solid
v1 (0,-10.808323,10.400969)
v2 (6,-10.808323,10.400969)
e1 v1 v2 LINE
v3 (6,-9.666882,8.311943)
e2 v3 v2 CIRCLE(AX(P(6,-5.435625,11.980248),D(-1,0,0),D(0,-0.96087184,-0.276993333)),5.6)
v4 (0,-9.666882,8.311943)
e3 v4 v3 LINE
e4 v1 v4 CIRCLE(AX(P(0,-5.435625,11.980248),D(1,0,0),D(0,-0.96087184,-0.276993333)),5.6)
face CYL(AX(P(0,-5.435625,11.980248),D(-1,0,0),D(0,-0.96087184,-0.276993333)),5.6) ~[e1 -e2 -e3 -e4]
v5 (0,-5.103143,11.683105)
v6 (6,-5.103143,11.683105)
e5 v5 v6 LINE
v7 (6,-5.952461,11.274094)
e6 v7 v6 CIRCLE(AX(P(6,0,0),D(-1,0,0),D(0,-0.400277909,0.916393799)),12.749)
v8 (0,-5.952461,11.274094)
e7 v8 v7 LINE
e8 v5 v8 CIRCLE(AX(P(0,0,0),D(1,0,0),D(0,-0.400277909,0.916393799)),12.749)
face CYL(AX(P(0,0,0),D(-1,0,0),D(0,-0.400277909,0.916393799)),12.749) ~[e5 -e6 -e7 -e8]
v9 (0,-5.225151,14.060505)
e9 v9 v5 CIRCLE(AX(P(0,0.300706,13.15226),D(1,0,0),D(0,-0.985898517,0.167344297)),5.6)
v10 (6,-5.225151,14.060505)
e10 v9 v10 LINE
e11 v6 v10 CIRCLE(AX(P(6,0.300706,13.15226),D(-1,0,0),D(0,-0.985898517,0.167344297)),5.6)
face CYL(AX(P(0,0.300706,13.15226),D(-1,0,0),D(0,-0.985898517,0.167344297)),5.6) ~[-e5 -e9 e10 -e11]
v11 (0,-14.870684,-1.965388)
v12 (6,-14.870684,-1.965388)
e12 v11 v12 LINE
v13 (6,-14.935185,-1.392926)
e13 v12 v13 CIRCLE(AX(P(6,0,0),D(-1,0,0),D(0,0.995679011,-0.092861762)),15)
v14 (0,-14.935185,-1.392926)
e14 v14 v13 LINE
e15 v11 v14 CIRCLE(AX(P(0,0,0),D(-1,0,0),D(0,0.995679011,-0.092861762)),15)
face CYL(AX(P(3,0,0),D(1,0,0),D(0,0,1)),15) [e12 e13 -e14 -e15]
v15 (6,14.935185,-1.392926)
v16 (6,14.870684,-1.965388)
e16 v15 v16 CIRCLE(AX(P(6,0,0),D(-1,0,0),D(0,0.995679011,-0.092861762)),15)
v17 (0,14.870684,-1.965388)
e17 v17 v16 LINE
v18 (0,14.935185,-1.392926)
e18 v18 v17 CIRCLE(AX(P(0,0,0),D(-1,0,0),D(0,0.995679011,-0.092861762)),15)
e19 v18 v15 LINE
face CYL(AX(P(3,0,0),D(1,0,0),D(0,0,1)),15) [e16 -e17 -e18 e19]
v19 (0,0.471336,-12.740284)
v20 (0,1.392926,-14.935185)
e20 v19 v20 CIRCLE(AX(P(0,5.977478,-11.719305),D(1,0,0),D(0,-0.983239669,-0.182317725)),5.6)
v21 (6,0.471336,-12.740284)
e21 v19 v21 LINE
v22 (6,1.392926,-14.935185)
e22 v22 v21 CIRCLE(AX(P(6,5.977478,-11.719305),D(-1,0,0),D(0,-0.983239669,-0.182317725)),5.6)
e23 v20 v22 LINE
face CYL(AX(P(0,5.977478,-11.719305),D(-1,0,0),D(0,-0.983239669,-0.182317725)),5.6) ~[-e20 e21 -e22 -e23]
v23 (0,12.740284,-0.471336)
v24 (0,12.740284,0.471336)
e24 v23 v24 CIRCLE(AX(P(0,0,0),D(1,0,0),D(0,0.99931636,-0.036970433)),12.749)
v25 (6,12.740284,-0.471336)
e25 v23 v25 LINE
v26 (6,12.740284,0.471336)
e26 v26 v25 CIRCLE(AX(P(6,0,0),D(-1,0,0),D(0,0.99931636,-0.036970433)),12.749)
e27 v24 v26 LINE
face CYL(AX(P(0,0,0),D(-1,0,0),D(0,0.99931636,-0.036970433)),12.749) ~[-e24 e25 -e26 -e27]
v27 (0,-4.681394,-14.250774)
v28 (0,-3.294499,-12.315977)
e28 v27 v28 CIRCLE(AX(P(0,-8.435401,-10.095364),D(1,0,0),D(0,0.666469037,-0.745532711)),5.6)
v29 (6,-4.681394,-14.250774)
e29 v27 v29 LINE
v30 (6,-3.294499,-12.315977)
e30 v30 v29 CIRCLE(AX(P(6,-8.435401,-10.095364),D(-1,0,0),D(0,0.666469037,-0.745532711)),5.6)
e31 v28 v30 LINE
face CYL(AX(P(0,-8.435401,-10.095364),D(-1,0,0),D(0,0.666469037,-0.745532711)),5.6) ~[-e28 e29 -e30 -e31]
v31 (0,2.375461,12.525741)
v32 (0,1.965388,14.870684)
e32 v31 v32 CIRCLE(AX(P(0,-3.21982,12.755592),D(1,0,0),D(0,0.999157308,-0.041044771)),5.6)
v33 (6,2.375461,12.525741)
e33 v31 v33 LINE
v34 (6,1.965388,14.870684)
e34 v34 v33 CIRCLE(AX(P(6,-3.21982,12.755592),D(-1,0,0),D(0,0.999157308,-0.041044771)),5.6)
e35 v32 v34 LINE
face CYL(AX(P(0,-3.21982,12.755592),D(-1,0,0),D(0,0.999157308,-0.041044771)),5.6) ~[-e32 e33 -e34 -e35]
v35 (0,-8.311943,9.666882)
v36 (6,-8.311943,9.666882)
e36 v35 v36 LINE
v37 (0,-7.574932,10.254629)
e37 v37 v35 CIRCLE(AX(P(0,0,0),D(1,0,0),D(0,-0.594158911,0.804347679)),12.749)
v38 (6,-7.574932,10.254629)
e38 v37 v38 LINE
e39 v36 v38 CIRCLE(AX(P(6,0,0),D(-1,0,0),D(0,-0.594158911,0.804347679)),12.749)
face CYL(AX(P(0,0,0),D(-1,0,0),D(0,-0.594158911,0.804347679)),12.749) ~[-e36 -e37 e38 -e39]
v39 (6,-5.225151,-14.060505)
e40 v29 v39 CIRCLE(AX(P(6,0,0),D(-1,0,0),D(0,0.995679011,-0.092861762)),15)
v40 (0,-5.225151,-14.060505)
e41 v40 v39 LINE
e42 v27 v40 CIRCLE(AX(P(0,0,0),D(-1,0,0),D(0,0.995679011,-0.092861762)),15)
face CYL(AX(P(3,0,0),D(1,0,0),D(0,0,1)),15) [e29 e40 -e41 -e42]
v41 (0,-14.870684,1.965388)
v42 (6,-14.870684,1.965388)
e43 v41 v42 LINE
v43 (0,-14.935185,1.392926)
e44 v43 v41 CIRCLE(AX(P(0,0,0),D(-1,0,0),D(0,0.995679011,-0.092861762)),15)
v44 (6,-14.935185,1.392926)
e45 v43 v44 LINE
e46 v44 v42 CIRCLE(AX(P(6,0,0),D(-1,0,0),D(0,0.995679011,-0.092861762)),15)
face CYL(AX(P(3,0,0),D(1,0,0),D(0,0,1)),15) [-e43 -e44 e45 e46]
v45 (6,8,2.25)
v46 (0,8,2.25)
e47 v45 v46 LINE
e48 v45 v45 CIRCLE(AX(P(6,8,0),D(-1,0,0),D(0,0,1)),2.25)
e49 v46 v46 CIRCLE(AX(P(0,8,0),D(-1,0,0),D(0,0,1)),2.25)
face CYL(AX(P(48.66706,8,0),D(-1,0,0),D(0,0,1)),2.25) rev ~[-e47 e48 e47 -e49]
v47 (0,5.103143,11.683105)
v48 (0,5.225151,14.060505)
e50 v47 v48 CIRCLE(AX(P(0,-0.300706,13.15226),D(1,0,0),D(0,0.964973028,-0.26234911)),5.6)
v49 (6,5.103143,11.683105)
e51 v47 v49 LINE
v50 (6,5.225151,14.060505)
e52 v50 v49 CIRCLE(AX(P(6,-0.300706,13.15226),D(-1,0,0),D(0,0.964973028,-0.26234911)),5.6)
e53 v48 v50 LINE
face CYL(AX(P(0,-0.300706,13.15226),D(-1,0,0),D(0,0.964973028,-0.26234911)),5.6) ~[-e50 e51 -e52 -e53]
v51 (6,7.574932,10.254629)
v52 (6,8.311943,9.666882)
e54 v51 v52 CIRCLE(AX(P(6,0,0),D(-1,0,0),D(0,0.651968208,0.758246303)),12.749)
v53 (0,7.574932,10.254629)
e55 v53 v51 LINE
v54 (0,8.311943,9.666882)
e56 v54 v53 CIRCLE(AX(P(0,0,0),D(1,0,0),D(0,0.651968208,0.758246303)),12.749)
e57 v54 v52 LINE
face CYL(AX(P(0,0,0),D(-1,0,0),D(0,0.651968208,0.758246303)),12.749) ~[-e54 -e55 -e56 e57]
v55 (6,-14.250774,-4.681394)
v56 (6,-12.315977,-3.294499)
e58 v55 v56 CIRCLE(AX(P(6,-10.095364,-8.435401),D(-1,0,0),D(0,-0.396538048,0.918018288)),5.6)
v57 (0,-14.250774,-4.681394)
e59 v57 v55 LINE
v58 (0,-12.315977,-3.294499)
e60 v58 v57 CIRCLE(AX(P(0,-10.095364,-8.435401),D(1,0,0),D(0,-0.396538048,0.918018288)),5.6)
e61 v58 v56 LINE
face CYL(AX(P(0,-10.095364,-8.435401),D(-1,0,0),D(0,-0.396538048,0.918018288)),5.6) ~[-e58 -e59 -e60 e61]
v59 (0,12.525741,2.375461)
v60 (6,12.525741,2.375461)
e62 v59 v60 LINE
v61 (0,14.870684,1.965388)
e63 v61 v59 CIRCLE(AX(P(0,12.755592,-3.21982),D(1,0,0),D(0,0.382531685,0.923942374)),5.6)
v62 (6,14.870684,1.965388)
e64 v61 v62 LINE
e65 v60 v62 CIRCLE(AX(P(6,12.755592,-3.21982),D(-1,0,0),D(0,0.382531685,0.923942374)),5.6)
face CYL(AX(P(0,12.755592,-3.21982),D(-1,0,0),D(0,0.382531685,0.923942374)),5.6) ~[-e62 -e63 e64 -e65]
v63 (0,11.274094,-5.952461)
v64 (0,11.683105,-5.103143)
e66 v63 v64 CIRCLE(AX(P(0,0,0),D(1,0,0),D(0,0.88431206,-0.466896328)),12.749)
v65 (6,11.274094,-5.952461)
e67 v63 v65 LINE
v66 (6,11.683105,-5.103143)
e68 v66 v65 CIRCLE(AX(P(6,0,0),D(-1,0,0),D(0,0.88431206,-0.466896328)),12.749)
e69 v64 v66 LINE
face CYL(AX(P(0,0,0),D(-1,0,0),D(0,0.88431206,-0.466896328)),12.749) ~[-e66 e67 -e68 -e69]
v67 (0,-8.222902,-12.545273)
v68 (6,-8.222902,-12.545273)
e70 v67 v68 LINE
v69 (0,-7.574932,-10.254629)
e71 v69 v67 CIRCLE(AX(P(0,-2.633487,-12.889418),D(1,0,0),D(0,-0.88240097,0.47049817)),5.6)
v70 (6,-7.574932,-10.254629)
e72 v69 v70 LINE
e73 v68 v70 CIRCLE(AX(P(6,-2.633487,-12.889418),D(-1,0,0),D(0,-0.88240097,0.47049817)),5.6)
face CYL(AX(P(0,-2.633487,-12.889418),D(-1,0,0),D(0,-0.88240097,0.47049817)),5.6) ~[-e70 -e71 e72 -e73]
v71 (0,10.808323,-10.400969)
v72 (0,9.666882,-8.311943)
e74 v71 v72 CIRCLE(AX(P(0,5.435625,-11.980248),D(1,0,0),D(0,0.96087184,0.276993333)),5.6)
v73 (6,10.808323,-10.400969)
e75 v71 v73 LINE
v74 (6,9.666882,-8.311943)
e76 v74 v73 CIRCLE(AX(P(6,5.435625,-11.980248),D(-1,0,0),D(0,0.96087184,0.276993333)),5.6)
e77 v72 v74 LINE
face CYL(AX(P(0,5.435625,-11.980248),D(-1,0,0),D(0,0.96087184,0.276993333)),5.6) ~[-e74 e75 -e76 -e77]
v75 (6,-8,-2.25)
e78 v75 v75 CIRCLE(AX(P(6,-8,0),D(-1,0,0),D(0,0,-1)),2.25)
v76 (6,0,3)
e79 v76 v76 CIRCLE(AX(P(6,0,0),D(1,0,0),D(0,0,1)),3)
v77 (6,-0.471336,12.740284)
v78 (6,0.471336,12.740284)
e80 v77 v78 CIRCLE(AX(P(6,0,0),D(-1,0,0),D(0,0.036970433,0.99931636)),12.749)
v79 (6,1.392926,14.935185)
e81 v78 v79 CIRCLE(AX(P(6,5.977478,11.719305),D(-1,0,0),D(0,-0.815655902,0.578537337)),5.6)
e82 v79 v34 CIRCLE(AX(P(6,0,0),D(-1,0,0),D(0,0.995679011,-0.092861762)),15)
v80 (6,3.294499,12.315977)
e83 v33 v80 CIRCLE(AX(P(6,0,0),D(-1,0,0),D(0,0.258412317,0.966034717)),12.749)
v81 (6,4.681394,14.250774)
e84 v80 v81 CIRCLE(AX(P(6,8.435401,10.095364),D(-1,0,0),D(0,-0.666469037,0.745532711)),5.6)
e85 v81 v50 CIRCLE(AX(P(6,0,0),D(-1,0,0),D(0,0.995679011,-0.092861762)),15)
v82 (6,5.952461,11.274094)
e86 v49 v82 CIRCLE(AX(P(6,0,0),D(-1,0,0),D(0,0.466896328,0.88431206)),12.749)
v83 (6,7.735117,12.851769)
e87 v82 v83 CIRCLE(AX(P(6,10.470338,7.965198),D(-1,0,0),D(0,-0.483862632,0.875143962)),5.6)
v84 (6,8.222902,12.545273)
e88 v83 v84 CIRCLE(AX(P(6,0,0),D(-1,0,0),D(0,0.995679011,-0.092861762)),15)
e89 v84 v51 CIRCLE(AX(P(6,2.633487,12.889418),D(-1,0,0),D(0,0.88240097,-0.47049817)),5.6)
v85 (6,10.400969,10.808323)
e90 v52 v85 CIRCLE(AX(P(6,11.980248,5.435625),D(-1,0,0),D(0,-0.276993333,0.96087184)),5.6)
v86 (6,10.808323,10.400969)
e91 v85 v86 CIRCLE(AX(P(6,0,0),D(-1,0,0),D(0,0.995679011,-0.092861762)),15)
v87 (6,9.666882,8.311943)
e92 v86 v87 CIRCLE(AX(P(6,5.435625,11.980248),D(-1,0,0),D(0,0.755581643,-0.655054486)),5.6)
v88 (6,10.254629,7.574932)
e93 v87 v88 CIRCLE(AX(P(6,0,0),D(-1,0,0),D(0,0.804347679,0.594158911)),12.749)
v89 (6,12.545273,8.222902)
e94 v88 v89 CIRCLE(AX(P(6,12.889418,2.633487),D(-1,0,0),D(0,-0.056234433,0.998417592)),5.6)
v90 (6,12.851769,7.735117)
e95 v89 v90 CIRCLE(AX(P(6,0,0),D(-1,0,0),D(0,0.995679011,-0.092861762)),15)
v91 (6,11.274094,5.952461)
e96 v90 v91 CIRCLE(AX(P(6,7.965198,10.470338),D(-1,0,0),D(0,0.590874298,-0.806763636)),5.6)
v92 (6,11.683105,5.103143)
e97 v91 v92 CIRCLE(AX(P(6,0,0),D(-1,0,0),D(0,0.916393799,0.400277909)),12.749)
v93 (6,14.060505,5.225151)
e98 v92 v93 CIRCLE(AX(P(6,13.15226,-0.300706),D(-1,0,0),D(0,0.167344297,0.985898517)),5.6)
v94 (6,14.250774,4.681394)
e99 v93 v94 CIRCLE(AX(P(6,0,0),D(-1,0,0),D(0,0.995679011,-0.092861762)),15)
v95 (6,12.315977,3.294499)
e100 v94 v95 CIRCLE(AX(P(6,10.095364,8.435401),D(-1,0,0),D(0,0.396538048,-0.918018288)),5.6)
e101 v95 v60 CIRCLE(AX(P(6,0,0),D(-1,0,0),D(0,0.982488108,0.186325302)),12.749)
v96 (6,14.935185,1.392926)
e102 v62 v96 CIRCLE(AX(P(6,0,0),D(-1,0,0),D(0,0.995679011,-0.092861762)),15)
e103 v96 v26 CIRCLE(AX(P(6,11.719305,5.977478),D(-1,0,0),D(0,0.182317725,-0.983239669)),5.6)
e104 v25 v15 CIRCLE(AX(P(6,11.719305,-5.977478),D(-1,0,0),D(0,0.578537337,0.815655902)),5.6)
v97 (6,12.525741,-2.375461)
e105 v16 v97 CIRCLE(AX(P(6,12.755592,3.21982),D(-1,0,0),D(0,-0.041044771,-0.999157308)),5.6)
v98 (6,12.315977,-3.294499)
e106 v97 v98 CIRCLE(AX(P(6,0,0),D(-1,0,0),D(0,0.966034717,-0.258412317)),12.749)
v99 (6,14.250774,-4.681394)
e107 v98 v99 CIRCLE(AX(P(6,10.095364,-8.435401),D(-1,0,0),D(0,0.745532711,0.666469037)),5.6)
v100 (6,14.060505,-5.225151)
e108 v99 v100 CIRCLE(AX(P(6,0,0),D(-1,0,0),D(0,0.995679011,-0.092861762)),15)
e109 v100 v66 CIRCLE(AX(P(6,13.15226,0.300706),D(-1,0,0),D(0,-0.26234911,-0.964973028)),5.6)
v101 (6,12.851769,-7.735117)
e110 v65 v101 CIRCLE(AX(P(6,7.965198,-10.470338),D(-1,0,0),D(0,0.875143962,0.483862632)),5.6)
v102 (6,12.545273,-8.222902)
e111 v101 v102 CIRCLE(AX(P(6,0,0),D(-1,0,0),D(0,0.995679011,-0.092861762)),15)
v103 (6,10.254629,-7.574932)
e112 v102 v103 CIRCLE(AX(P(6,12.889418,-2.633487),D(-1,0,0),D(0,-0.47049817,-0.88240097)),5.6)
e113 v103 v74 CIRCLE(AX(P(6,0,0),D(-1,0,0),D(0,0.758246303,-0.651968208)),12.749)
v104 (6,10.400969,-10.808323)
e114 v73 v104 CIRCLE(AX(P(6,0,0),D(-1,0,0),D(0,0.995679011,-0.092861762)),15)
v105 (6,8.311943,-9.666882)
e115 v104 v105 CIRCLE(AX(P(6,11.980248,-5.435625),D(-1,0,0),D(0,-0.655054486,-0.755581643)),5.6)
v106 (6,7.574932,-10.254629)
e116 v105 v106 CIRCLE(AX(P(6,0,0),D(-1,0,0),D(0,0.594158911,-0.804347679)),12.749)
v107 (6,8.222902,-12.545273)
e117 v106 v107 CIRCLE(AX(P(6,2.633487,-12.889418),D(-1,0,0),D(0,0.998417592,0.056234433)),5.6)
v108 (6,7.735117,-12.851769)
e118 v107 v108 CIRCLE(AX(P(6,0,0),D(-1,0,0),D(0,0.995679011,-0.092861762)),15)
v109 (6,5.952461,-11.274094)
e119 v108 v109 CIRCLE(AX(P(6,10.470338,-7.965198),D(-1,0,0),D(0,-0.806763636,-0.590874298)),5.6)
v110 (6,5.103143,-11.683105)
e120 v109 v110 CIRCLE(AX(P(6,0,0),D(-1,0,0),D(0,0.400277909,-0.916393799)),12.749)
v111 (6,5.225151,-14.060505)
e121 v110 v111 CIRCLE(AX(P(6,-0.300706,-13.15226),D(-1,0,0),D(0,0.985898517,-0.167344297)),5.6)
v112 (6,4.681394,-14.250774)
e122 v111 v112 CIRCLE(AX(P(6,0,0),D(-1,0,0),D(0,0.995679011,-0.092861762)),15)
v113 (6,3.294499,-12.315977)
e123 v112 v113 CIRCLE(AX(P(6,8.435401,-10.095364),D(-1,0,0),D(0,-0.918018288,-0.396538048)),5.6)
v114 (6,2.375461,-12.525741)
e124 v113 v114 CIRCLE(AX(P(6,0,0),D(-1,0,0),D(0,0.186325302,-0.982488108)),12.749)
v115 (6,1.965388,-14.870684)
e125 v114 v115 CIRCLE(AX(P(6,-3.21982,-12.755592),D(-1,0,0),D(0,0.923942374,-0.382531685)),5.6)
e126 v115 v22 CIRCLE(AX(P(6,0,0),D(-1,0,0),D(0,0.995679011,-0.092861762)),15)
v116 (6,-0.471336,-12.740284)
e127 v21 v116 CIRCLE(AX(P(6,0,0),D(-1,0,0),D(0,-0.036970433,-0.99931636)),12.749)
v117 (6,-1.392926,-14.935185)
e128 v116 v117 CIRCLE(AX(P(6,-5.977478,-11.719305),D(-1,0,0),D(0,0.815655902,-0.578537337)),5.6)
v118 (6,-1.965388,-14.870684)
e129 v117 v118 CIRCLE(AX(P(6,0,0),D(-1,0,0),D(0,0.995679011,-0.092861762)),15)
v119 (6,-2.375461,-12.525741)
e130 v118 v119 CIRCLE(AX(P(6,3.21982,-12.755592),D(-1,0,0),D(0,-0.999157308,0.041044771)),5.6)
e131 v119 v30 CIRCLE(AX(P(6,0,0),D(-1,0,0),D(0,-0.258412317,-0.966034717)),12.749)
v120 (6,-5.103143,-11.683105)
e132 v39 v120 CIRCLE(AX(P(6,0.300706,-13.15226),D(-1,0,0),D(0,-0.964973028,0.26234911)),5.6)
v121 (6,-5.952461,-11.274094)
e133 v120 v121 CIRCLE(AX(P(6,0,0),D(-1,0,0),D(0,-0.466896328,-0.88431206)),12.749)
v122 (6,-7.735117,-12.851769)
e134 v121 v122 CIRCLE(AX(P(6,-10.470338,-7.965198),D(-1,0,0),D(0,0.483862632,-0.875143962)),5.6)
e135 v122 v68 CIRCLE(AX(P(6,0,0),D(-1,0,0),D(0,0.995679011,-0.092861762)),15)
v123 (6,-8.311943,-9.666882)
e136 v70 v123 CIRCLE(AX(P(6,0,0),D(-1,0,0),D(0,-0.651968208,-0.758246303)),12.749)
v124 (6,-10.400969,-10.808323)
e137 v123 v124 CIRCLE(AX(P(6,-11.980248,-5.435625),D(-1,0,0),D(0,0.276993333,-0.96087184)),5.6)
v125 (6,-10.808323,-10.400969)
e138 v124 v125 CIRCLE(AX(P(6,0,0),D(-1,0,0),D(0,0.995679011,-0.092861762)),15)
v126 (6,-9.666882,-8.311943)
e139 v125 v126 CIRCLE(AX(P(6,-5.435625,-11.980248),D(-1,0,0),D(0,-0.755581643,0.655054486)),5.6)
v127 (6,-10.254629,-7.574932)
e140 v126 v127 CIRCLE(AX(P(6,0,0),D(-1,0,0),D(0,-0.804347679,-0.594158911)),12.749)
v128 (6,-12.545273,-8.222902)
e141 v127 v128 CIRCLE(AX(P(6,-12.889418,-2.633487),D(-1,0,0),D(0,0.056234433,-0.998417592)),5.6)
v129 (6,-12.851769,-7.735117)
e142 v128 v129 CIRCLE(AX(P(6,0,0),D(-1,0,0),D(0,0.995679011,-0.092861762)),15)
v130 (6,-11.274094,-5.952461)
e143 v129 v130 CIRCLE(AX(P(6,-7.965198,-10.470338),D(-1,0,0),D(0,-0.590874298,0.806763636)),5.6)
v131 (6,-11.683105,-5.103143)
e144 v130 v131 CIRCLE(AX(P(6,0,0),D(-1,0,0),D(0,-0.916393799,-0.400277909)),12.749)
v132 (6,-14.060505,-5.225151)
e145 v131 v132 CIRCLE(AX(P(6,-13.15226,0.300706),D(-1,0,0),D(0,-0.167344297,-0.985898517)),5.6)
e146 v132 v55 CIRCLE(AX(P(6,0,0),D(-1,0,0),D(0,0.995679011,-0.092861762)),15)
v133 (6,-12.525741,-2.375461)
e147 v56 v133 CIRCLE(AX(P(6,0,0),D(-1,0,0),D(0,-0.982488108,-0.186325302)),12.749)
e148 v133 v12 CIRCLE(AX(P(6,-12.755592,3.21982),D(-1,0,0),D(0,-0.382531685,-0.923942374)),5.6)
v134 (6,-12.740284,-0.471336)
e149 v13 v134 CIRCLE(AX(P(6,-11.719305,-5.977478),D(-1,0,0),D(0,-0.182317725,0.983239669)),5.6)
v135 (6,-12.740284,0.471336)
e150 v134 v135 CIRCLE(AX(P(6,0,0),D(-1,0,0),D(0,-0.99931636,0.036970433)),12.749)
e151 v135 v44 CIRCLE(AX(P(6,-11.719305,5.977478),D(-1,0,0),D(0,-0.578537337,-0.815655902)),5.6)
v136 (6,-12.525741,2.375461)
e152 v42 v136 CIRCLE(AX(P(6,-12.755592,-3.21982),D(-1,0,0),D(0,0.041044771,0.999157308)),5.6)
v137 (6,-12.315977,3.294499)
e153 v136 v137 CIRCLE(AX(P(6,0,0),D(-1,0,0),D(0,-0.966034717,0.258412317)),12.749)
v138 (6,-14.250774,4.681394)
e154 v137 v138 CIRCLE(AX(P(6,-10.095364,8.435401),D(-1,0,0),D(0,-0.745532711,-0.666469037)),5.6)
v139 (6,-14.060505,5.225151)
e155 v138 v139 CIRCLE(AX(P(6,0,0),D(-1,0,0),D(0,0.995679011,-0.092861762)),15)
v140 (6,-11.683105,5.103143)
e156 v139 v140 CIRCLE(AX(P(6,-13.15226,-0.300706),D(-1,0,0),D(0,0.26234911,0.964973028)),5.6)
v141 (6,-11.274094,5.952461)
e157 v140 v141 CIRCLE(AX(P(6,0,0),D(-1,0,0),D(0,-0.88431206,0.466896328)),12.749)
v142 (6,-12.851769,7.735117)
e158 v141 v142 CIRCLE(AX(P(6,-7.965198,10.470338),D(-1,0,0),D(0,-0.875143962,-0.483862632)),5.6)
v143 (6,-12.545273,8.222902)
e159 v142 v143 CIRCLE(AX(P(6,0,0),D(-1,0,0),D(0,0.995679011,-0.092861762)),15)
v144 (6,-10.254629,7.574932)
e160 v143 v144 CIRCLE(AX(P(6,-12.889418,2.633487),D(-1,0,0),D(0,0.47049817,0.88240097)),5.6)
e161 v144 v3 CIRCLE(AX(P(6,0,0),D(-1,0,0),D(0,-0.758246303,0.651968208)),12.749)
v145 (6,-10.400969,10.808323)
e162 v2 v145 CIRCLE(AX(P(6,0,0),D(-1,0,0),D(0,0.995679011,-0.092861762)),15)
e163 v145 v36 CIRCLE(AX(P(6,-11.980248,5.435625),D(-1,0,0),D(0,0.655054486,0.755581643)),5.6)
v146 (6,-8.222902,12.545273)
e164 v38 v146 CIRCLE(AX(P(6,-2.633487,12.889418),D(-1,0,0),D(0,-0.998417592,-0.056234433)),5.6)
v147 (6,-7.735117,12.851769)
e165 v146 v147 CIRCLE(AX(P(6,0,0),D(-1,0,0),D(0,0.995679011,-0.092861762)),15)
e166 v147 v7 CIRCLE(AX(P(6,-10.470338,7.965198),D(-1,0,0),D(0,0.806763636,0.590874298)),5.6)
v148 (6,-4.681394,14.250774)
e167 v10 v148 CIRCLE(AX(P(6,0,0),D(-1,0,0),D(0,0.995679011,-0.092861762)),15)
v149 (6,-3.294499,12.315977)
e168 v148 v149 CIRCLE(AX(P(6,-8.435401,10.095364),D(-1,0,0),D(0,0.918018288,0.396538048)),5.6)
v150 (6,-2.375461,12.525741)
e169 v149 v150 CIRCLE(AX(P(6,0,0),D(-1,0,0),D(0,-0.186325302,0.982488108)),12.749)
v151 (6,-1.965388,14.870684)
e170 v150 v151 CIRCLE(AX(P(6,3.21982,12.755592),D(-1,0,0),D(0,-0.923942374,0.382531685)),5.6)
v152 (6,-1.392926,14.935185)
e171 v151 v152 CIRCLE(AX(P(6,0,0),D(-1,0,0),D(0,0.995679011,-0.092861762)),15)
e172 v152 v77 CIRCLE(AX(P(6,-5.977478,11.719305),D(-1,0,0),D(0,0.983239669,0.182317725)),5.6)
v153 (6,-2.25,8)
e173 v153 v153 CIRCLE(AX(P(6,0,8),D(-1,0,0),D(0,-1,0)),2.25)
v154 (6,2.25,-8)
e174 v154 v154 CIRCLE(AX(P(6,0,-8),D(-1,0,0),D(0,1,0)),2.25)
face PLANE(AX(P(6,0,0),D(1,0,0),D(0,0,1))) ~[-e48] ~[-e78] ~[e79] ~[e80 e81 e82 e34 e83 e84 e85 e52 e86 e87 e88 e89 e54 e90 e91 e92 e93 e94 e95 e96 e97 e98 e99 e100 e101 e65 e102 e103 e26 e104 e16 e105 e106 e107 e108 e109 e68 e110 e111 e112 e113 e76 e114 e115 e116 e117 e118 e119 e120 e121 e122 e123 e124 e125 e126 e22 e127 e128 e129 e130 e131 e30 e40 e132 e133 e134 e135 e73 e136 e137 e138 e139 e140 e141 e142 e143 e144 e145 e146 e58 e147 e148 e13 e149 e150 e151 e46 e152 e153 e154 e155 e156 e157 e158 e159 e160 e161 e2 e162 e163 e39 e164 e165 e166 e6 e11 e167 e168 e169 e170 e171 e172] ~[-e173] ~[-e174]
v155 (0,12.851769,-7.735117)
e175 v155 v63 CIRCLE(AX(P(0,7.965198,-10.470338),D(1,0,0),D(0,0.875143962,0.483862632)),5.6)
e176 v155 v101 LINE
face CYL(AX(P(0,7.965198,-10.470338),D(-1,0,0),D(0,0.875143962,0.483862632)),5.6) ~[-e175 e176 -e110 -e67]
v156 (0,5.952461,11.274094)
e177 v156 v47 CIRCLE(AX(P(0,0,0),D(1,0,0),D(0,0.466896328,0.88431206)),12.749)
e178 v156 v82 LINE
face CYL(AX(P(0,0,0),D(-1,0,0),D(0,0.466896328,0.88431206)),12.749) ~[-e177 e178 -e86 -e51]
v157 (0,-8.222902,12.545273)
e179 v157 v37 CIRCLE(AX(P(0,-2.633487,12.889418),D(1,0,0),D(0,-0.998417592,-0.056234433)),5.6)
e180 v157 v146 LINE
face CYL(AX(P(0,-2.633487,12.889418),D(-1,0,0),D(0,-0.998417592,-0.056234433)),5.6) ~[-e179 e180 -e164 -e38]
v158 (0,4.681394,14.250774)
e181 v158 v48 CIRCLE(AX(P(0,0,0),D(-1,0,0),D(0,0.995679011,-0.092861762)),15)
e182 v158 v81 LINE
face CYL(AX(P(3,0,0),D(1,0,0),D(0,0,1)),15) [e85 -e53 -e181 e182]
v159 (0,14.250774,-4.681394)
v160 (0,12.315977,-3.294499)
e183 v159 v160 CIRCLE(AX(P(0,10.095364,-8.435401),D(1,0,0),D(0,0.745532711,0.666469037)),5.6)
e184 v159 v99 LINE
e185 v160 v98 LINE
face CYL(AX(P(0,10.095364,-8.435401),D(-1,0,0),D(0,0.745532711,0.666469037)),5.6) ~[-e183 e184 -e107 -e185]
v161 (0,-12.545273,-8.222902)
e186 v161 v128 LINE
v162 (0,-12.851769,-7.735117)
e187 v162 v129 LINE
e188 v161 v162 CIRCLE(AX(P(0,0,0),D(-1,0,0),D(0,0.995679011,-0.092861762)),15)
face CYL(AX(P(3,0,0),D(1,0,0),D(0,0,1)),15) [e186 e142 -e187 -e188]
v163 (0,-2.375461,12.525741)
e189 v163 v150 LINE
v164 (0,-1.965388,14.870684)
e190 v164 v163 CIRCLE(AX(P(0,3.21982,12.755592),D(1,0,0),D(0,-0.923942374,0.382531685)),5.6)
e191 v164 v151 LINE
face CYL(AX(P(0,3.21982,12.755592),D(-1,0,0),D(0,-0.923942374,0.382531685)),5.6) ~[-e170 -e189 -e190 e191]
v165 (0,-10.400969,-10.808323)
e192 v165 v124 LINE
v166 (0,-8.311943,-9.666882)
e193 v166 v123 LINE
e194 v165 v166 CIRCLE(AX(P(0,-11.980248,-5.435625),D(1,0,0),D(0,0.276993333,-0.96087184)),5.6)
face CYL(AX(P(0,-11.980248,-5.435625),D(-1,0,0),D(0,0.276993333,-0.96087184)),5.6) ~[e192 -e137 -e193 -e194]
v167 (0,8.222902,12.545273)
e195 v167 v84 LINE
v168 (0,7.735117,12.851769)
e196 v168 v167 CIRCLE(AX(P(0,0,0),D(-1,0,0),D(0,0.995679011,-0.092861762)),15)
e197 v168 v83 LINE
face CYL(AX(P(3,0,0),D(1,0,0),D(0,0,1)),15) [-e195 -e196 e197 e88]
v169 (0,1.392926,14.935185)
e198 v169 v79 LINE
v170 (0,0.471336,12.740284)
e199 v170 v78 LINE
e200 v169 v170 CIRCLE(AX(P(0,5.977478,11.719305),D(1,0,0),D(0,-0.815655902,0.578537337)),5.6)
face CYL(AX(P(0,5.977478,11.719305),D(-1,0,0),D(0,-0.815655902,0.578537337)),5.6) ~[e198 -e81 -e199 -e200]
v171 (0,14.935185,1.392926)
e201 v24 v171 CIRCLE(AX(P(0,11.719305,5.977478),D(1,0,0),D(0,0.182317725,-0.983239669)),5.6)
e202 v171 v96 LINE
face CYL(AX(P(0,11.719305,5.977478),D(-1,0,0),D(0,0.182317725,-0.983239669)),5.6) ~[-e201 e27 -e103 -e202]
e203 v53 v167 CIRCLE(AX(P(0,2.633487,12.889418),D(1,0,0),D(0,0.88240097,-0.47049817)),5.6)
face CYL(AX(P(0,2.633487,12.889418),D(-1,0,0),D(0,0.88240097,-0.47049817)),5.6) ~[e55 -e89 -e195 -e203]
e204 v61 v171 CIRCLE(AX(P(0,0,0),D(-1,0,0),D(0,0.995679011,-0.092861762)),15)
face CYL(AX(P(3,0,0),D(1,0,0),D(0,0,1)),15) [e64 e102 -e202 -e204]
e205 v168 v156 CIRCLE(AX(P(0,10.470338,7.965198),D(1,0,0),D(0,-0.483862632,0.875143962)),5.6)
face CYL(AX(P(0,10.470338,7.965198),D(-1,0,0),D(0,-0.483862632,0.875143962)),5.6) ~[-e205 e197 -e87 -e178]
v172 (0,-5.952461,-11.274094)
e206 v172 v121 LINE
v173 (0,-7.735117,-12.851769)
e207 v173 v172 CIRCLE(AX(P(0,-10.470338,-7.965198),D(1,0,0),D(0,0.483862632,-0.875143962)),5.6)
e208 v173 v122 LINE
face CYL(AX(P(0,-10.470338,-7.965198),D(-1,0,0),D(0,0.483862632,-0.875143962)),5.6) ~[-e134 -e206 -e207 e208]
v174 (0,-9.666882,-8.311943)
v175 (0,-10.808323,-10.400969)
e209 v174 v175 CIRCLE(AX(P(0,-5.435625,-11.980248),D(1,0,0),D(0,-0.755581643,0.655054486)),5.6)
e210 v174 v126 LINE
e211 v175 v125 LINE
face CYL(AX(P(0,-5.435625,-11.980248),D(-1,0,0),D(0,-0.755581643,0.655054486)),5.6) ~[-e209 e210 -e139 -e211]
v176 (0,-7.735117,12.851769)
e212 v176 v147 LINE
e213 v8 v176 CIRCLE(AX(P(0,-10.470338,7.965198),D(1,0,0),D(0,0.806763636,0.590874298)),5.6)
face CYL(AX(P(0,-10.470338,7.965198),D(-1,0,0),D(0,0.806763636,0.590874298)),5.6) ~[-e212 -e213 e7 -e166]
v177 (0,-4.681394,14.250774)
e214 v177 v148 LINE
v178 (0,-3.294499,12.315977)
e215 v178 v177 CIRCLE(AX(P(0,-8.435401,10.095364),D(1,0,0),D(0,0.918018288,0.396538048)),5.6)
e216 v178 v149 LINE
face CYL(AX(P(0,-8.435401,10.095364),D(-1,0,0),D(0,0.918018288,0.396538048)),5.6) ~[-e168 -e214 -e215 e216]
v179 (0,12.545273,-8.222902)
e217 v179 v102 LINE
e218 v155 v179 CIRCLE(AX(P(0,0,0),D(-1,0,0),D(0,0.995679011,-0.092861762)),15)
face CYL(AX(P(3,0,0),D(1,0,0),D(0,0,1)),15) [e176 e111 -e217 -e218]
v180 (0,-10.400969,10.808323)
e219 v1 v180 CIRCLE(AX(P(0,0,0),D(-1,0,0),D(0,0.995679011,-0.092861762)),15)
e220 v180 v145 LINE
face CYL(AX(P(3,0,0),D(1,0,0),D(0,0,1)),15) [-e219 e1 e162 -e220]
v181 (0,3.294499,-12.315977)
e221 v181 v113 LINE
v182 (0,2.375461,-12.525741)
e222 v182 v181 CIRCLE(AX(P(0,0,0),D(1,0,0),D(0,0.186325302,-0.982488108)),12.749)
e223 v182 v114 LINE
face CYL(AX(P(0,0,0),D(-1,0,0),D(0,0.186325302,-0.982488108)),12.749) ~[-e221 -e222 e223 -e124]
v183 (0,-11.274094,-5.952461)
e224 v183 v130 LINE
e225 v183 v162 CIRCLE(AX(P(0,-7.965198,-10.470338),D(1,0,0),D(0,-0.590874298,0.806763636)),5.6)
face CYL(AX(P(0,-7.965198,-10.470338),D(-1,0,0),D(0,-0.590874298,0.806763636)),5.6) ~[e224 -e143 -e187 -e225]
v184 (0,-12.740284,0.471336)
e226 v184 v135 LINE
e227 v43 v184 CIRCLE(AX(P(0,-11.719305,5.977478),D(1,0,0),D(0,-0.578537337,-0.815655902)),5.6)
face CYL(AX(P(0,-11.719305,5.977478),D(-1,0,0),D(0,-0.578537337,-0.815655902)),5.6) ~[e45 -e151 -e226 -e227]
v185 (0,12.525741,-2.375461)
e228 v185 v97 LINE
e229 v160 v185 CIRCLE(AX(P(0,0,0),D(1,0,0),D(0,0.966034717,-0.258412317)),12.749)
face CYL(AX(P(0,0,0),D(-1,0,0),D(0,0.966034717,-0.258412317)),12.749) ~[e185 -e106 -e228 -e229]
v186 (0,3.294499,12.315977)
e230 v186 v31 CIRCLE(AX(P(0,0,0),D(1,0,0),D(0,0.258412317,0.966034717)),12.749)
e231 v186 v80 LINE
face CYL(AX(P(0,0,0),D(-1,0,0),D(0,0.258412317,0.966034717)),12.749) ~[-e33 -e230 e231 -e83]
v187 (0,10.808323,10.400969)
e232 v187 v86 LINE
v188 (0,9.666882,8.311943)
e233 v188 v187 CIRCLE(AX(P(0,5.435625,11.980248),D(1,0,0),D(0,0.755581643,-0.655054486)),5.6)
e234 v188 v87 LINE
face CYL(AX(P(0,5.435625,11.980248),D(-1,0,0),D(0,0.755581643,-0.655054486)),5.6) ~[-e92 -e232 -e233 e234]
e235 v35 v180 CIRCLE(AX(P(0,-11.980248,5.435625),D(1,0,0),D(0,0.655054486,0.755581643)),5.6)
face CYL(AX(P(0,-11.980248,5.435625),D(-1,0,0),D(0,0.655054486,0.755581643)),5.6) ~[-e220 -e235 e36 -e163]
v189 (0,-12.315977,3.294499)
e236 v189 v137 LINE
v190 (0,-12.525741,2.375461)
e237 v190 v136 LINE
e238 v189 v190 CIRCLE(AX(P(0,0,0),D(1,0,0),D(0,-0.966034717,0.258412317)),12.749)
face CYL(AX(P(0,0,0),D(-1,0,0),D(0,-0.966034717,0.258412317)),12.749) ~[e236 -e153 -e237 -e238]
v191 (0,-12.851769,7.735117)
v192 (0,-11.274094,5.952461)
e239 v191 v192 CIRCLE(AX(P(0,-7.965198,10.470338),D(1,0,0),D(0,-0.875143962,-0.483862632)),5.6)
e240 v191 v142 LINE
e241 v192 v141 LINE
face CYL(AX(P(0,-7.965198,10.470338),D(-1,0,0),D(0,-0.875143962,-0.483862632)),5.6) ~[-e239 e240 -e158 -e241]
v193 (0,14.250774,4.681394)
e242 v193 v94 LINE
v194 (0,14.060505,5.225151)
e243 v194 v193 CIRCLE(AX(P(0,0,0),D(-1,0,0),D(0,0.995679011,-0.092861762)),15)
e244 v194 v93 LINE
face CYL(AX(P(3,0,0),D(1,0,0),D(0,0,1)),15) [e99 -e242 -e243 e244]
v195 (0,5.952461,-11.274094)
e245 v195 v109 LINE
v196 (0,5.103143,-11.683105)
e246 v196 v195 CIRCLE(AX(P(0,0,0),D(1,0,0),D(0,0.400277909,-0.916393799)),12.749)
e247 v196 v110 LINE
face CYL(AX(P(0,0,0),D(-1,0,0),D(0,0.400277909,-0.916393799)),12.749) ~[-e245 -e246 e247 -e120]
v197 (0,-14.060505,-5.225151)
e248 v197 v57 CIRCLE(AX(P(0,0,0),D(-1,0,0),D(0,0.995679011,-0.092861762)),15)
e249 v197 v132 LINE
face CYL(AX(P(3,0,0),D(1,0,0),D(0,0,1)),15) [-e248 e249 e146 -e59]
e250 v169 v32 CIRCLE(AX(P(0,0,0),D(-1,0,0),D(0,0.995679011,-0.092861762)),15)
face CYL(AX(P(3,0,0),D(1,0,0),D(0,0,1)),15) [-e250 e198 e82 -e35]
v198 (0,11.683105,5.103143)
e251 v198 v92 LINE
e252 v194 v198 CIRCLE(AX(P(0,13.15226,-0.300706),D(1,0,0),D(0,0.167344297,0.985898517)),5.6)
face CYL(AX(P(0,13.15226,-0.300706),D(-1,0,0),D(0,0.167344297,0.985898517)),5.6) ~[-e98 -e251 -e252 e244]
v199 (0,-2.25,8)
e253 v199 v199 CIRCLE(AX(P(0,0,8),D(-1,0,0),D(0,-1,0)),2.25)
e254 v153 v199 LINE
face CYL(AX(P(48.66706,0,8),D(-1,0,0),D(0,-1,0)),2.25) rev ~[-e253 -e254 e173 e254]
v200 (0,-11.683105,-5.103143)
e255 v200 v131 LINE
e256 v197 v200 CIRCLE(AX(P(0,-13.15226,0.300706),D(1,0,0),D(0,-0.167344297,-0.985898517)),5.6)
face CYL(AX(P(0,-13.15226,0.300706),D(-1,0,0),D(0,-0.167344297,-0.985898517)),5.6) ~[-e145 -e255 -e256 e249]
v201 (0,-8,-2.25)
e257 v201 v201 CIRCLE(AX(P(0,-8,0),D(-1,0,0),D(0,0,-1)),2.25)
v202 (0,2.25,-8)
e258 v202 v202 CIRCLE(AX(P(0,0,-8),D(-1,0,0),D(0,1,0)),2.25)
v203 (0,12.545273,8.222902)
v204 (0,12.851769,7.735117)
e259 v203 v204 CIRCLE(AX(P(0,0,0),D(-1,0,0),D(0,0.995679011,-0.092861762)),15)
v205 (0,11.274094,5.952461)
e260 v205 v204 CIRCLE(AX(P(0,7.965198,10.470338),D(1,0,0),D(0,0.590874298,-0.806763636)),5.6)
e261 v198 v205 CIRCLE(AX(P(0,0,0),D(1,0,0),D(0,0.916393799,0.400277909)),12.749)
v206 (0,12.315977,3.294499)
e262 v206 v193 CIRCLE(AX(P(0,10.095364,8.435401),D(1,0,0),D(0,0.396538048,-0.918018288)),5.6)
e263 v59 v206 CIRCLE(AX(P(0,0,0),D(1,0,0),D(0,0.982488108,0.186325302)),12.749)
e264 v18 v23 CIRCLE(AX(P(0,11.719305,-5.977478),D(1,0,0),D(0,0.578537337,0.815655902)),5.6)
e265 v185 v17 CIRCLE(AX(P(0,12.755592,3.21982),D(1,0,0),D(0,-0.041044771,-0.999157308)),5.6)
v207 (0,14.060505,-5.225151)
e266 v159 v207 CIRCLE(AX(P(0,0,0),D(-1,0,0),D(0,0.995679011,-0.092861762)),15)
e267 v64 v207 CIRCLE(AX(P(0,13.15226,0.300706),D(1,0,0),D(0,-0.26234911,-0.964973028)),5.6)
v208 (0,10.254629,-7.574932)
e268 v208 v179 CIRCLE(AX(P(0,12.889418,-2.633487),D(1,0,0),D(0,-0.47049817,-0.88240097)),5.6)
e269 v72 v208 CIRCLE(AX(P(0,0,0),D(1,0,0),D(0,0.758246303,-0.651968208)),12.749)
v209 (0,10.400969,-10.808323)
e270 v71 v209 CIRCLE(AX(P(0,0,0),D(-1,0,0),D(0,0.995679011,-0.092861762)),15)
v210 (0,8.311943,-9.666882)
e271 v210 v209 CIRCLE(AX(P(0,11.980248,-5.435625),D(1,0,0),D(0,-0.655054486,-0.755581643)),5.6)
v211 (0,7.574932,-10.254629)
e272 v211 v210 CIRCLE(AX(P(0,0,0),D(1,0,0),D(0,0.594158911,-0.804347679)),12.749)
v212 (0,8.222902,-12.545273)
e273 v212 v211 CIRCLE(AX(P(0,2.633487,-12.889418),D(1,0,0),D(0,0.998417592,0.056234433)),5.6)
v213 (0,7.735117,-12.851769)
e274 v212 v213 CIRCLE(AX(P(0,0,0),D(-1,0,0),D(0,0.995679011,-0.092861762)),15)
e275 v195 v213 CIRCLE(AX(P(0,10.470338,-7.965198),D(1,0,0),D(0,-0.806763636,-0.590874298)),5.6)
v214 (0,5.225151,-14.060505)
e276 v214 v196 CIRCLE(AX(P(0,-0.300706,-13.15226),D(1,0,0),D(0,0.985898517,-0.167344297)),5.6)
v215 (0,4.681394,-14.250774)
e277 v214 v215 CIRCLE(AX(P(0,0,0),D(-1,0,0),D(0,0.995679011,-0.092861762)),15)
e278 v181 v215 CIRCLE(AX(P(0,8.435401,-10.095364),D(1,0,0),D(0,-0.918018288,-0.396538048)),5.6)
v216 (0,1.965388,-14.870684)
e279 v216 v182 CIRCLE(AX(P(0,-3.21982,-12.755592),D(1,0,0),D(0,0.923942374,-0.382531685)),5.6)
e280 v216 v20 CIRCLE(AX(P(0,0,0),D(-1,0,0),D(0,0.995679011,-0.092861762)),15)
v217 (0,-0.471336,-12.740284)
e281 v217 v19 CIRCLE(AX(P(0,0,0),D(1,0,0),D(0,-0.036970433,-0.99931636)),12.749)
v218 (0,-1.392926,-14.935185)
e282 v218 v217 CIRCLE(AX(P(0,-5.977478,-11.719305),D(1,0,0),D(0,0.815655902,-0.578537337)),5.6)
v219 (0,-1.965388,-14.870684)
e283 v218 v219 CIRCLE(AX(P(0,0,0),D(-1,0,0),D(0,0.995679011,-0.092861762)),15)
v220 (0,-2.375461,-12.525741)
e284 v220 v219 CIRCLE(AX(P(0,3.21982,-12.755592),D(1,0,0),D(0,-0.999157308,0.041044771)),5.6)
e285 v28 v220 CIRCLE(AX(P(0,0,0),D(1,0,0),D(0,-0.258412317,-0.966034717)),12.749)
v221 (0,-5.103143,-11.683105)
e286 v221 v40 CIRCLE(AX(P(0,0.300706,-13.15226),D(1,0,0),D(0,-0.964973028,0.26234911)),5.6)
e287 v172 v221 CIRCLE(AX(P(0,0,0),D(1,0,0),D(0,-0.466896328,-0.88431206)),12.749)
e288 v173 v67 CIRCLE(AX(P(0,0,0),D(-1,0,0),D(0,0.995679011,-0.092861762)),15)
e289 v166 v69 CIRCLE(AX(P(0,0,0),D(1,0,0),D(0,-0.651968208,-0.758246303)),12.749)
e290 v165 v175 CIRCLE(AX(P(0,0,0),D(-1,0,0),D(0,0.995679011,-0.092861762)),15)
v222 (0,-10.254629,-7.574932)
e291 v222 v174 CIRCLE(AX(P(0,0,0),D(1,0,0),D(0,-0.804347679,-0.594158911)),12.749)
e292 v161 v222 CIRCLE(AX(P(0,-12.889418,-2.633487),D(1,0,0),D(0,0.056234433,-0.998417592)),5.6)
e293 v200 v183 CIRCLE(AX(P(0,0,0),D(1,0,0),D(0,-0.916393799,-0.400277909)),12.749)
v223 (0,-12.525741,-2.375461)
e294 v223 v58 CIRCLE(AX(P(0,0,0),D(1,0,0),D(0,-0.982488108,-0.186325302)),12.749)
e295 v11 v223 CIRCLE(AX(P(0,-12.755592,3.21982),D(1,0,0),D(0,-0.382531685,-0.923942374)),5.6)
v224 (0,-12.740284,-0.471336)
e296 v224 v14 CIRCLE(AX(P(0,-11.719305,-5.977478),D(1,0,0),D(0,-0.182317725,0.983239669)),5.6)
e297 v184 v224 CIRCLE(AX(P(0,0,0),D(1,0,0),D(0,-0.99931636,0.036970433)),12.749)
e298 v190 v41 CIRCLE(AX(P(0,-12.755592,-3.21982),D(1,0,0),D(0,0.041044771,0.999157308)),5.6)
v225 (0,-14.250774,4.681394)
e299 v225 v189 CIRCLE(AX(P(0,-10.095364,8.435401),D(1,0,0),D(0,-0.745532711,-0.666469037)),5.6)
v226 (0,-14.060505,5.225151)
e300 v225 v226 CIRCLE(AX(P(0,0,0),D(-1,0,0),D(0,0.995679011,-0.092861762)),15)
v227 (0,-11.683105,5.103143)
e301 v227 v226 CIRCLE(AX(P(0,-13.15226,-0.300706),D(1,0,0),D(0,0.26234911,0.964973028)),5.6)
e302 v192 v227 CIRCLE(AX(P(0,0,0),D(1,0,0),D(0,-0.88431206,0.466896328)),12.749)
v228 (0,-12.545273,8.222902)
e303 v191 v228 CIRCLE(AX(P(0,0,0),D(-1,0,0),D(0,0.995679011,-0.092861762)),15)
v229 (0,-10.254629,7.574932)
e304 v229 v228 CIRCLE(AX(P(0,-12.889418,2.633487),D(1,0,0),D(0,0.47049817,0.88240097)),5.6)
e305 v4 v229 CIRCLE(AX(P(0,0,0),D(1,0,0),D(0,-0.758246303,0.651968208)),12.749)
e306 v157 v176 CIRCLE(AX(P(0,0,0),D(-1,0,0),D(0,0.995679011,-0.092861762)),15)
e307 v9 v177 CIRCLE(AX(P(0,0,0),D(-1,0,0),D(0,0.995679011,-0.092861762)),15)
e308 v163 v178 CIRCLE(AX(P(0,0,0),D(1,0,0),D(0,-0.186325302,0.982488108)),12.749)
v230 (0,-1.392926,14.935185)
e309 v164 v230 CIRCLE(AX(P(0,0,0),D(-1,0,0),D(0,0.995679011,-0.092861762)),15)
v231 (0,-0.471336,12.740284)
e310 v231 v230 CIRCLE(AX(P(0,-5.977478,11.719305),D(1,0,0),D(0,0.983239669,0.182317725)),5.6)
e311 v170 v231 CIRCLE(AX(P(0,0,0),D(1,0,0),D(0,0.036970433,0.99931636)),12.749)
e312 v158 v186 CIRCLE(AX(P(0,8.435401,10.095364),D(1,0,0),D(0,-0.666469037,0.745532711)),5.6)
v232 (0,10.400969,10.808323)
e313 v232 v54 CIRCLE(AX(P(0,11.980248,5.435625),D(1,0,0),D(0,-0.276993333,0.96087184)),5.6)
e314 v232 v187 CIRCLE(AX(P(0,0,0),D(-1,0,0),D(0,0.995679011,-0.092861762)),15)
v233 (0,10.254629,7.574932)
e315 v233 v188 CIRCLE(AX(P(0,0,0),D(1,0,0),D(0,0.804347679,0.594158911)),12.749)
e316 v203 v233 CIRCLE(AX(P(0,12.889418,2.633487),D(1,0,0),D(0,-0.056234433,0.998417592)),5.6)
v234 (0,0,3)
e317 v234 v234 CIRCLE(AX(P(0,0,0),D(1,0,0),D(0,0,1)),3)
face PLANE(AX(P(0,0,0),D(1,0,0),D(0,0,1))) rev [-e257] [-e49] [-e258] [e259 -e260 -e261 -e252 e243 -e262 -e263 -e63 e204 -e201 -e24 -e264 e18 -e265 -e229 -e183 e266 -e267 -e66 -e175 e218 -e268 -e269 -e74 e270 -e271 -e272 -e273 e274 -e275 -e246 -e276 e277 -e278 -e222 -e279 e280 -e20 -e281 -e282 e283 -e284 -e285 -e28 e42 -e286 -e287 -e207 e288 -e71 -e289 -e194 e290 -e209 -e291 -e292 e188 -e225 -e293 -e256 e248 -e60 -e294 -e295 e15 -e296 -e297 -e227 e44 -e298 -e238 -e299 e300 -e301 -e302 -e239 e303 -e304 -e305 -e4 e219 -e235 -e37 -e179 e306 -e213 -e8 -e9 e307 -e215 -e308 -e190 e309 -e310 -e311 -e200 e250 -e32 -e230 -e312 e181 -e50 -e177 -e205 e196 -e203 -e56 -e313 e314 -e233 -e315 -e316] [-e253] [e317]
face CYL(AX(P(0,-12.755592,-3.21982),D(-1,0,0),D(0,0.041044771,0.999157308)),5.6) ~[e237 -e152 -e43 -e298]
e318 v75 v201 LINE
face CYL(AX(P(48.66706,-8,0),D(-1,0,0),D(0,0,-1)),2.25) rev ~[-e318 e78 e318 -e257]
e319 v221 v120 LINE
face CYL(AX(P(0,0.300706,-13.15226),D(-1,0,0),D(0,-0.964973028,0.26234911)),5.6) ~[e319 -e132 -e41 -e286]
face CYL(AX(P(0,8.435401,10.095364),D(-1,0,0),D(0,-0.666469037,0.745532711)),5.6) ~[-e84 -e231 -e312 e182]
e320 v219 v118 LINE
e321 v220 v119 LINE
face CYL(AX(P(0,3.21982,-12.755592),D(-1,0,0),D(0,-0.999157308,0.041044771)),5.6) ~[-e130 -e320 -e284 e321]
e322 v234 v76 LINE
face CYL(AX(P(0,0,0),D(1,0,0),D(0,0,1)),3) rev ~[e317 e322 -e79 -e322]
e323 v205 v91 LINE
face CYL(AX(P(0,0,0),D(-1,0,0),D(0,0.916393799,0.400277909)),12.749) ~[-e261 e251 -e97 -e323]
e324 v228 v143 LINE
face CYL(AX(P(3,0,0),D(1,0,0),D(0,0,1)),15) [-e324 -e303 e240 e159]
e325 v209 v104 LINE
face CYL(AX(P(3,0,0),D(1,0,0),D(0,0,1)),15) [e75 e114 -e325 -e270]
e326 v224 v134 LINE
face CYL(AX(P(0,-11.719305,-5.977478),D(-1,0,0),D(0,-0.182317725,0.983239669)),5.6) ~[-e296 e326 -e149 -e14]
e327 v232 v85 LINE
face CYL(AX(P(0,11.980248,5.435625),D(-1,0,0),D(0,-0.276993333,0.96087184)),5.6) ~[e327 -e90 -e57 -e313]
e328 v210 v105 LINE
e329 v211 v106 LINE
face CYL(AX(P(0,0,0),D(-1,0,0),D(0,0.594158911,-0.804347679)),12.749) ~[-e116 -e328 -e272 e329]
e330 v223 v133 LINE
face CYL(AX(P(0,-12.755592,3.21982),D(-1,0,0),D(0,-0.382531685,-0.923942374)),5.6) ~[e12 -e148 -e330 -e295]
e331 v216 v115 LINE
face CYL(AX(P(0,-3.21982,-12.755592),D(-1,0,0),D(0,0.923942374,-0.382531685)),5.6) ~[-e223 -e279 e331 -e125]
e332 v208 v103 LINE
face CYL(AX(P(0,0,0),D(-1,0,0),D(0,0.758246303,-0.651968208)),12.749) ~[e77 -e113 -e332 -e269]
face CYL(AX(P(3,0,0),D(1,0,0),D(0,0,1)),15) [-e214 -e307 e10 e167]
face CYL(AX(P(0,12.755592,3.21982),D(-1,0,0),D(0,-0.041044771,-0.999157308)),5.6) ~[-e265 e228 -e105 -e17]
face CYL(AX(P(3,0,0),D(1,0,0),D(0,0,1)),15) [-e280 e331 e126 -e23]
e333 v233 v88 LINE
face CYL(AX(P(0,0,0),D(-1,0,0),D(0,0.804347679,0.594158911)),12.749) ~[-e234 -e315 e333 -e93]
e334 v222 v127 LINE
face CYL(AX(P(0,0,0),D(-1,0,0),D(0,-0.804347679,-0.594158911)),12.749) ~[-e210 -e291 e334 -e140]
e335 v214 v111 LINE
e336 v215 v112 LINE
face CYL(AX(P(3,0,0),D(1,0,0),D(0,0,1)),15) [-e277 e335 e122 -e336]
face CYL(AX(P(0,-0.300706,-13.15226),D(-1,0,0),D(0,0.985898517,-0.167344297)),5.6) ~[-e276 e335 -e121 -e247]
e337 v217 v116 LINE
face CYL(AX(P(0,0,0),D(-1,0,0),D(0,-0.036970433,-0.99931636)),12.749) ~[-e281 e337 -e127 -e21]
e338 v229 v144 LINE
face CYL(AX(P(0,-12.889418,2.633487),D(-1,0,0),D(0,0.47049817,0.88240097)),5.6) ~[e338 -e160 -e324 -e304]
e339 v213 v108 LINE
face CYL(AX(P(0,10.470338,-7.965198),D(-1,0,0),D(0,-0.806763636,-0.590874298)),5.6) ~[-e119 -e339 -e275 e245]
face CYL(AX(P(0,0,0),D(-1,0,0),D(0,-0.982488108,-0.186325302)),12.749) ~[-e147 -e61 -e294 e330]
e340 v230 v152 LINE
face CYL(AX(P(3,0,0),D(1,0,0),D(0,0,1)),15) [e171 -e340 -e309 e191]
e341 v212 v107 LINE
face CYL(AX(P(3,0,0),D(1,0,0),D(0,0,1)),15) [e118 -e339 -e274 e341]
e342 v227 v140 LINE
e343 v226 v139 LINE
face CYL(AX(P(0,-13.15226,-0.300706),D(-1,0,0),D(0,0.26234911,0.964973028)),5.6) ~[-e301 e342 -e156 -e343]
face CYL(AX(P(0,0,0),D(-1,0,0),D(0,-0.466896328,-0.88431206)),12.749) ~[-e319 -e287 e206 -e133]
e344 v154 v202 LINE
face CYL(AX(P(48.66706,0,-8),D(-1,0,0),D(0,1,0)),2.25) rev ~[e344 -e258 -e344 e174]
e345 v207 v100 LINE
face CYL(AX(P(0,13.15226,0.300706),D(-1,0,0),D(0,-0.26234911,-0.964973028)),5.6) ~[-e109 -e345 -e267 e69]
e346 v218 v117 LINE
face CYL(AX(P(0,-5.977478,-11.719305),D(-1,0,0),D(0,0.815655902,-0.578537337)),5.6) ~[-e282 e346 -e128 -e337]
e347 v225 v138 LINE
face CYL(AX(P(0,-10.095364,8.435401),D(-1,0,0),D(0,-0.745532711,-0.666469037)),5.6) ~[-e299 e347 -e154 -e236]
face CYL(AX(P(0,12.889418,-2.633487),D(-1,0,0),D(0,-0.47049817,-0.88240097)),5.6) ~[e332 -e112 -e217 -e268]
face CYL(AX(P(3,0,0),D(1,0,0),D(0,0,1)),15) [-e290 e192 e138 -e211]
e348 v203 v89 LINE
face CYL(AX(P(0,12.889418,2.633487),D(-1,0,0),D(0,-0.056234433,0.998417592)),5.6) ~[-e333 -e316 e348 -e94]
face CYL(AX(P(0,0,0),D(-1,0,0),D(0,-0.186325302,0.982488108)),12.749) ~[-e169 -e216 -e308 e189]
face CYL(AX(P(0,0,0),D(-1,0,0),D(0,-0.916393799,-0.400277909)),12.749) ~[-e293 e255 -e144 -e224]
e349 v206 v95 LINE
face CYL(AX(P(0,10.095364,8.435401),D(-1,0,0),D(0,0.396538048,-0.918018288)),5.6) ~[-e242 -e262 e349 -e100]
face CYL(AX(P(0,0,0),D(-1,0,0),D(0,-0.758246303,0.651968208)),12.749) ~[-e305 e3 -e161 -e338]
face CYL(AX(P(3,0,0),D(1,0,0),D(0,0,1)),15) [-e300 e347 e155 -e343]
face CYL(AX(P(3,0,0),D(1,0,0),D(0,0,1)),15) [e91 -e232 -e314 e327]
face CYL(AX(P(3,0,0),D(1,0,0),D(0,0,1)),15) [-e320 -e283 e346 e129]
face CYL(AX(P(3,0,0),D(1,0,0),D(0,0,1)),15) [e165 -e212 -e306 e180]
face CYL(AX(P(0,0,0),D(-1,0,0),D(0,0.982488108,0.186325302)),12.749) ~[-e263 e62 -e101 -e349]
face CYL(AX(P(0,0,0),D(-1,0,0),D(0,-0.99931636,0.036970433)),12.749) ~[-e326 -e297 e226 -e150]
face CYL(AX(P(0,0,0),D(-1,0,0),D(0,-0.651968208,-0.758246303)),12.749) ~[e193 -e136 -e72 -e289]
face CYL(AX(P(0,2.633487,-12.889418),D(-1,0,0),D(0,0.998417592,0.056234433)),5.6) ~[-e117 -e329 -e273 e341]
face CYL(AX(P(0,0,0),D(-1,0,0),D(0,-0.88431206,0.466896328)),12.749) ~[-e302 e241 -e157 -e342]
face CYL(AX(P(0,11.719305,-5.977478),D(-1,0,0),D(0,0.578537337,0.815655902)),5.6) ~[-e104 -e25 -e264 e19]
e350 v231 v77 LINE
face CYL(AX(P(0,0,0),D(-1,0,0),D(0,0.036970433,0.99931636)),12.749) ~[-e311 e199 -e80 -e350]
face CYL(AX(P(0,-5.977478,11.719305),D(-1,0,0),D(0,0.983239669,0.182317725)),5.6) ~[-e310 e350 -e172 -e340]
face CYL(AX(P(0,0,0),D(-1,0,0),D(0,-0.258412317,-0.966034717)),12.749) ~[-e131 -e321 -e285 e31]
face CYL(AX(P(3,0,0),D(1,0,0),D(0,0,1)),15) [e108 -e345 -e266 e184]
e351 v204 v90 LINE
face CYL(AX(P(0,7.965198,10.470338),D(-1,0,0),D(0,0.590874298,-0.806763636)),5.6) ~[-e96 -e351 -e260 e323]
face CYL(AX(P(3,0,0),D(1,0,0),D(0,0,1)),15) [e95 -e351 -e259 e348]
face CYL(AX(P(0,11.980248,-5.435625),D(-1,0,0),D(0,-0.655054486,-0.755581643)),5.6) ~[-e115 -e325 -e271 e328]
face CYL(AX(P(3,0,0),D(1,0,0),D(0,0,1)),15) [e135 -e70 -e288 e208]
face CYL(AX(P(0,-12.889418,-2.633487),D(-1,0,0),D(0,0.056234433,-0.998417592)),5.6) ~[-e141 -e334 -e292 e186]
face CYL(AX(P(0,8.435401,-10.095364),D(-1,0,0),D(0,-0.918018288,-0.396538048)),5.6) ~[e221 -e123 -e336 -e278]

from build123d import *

# Parameters (mm, degrees)
BASPROSKE_W          = 6
BASPROSKE_H          = 15
TOOTHCUT_DEPTH       = 23.045407685
TEETHCUTS_COUNT      = 28
TEETHCUTS_ANGLE      = 347.142857143
BORSKE_R             = 3
BORE_DEPTH           = 50.0000508
M4_CLEARANCE_HOLE1_D = 4.5
CIRPATTERN1_COUNT    = 4


with BuildPart() as part:
    # BasProSke → Base-Revolve (revolve)
    with BuildSketch(Plane(origin=(0, 0, 0), x_dir=(1, 0, 0), z_dir=(0, 1, 0)), mode=Mode.PRIVATE) as base_revolve_sk:
        with Locations((3, 7.5)):
            Rectangle(BASPROSKE_W, BASPROSKE_H)
    revolve(base_revolve_sk.sketch.rotate(Axis((-10, 0, 0), (1, 0, 0)), 180), axis=Axis((-10, 0, 0), (1, 0, 0)))

    # TooCutSke → ToothCut (cut, through all)
    with BuildSketch(Plane(origin=(0, 0, 0), x_dir=(0, 0, -1), z_dir=(1, 0, 0))):
        with BuildLine():
            ThreePointArc((0.471336039, 12.740284272), (0, 12.749), (-0.471336039, 12.740284272))
            ThreePointArc((-0.471336039, 12.740284272), (-0.81983923, 13.900763331), (-1.409805137, 14.959114099))
            ThreePointArc((-1.409805137, 14.959114099), (0, 15.0254), (1.409805137, 14.959114099))
            ThreePointArc((1.409805137, 14.959114099), (0.81983923, 13.900763331), (0.471336039, 12.740284272))
        make_face()
    toothcut = extrude(amount=TOOTHCUT_DEPTH, mode=Mode.SUBTRACT)

    # TeethCuts: ToothCut ×28 about axis
    teethcuts_axis = Axis((-10, 0, 0), (1, 0, 0))
    for i in range(1, TEETHCUTS_COUNT):
        add(toothcut.rotate(teethcuts_axis, i * TEETHCUTS_ANGLE / (TEETHCUTS_COUNT - 1)), mode=Mode.SUBTRACT)

    # BorSke → Bore (cut, symmetric)
    with BuildSketch(Plane(origin=(0, 0, 0), x_dir=(0, 0, -1), z_dir=(1, 0, 0))):
        with Locations(Location((0, 0, 0), (0, 0, 180))):
            Circle(BORSKE_R)
    extrude(amount=BORE_DEPTH, both=True, mode=Mode.SUBTRACT)

    # M4 Clearance Hole1 (through all)
    with Locations(Plane(origin=(6, 0, 0), x_dir=(0, 0, -1), z_dir=(1, 0, 0))):
        with Locations((0, 8)):
            m4_clearance_hole1 = Hole(M4_CLEARANCE_HOLE1_D / 2)

    # CirPattern1: M4 Clearance Hole1 ×4 about axis
    cirpattern1_axis = Axis((0, 0, 0), (1, 0, 0))
    for i in range(1, CIRPATTERN1_COUNT):
        add(m4_clearance_hole1.rotate(cirpattern1_axis, i * 360 / CIRPATTERN1_COUNT), mode=Mode.SUBTRACT)


solid = part.part
